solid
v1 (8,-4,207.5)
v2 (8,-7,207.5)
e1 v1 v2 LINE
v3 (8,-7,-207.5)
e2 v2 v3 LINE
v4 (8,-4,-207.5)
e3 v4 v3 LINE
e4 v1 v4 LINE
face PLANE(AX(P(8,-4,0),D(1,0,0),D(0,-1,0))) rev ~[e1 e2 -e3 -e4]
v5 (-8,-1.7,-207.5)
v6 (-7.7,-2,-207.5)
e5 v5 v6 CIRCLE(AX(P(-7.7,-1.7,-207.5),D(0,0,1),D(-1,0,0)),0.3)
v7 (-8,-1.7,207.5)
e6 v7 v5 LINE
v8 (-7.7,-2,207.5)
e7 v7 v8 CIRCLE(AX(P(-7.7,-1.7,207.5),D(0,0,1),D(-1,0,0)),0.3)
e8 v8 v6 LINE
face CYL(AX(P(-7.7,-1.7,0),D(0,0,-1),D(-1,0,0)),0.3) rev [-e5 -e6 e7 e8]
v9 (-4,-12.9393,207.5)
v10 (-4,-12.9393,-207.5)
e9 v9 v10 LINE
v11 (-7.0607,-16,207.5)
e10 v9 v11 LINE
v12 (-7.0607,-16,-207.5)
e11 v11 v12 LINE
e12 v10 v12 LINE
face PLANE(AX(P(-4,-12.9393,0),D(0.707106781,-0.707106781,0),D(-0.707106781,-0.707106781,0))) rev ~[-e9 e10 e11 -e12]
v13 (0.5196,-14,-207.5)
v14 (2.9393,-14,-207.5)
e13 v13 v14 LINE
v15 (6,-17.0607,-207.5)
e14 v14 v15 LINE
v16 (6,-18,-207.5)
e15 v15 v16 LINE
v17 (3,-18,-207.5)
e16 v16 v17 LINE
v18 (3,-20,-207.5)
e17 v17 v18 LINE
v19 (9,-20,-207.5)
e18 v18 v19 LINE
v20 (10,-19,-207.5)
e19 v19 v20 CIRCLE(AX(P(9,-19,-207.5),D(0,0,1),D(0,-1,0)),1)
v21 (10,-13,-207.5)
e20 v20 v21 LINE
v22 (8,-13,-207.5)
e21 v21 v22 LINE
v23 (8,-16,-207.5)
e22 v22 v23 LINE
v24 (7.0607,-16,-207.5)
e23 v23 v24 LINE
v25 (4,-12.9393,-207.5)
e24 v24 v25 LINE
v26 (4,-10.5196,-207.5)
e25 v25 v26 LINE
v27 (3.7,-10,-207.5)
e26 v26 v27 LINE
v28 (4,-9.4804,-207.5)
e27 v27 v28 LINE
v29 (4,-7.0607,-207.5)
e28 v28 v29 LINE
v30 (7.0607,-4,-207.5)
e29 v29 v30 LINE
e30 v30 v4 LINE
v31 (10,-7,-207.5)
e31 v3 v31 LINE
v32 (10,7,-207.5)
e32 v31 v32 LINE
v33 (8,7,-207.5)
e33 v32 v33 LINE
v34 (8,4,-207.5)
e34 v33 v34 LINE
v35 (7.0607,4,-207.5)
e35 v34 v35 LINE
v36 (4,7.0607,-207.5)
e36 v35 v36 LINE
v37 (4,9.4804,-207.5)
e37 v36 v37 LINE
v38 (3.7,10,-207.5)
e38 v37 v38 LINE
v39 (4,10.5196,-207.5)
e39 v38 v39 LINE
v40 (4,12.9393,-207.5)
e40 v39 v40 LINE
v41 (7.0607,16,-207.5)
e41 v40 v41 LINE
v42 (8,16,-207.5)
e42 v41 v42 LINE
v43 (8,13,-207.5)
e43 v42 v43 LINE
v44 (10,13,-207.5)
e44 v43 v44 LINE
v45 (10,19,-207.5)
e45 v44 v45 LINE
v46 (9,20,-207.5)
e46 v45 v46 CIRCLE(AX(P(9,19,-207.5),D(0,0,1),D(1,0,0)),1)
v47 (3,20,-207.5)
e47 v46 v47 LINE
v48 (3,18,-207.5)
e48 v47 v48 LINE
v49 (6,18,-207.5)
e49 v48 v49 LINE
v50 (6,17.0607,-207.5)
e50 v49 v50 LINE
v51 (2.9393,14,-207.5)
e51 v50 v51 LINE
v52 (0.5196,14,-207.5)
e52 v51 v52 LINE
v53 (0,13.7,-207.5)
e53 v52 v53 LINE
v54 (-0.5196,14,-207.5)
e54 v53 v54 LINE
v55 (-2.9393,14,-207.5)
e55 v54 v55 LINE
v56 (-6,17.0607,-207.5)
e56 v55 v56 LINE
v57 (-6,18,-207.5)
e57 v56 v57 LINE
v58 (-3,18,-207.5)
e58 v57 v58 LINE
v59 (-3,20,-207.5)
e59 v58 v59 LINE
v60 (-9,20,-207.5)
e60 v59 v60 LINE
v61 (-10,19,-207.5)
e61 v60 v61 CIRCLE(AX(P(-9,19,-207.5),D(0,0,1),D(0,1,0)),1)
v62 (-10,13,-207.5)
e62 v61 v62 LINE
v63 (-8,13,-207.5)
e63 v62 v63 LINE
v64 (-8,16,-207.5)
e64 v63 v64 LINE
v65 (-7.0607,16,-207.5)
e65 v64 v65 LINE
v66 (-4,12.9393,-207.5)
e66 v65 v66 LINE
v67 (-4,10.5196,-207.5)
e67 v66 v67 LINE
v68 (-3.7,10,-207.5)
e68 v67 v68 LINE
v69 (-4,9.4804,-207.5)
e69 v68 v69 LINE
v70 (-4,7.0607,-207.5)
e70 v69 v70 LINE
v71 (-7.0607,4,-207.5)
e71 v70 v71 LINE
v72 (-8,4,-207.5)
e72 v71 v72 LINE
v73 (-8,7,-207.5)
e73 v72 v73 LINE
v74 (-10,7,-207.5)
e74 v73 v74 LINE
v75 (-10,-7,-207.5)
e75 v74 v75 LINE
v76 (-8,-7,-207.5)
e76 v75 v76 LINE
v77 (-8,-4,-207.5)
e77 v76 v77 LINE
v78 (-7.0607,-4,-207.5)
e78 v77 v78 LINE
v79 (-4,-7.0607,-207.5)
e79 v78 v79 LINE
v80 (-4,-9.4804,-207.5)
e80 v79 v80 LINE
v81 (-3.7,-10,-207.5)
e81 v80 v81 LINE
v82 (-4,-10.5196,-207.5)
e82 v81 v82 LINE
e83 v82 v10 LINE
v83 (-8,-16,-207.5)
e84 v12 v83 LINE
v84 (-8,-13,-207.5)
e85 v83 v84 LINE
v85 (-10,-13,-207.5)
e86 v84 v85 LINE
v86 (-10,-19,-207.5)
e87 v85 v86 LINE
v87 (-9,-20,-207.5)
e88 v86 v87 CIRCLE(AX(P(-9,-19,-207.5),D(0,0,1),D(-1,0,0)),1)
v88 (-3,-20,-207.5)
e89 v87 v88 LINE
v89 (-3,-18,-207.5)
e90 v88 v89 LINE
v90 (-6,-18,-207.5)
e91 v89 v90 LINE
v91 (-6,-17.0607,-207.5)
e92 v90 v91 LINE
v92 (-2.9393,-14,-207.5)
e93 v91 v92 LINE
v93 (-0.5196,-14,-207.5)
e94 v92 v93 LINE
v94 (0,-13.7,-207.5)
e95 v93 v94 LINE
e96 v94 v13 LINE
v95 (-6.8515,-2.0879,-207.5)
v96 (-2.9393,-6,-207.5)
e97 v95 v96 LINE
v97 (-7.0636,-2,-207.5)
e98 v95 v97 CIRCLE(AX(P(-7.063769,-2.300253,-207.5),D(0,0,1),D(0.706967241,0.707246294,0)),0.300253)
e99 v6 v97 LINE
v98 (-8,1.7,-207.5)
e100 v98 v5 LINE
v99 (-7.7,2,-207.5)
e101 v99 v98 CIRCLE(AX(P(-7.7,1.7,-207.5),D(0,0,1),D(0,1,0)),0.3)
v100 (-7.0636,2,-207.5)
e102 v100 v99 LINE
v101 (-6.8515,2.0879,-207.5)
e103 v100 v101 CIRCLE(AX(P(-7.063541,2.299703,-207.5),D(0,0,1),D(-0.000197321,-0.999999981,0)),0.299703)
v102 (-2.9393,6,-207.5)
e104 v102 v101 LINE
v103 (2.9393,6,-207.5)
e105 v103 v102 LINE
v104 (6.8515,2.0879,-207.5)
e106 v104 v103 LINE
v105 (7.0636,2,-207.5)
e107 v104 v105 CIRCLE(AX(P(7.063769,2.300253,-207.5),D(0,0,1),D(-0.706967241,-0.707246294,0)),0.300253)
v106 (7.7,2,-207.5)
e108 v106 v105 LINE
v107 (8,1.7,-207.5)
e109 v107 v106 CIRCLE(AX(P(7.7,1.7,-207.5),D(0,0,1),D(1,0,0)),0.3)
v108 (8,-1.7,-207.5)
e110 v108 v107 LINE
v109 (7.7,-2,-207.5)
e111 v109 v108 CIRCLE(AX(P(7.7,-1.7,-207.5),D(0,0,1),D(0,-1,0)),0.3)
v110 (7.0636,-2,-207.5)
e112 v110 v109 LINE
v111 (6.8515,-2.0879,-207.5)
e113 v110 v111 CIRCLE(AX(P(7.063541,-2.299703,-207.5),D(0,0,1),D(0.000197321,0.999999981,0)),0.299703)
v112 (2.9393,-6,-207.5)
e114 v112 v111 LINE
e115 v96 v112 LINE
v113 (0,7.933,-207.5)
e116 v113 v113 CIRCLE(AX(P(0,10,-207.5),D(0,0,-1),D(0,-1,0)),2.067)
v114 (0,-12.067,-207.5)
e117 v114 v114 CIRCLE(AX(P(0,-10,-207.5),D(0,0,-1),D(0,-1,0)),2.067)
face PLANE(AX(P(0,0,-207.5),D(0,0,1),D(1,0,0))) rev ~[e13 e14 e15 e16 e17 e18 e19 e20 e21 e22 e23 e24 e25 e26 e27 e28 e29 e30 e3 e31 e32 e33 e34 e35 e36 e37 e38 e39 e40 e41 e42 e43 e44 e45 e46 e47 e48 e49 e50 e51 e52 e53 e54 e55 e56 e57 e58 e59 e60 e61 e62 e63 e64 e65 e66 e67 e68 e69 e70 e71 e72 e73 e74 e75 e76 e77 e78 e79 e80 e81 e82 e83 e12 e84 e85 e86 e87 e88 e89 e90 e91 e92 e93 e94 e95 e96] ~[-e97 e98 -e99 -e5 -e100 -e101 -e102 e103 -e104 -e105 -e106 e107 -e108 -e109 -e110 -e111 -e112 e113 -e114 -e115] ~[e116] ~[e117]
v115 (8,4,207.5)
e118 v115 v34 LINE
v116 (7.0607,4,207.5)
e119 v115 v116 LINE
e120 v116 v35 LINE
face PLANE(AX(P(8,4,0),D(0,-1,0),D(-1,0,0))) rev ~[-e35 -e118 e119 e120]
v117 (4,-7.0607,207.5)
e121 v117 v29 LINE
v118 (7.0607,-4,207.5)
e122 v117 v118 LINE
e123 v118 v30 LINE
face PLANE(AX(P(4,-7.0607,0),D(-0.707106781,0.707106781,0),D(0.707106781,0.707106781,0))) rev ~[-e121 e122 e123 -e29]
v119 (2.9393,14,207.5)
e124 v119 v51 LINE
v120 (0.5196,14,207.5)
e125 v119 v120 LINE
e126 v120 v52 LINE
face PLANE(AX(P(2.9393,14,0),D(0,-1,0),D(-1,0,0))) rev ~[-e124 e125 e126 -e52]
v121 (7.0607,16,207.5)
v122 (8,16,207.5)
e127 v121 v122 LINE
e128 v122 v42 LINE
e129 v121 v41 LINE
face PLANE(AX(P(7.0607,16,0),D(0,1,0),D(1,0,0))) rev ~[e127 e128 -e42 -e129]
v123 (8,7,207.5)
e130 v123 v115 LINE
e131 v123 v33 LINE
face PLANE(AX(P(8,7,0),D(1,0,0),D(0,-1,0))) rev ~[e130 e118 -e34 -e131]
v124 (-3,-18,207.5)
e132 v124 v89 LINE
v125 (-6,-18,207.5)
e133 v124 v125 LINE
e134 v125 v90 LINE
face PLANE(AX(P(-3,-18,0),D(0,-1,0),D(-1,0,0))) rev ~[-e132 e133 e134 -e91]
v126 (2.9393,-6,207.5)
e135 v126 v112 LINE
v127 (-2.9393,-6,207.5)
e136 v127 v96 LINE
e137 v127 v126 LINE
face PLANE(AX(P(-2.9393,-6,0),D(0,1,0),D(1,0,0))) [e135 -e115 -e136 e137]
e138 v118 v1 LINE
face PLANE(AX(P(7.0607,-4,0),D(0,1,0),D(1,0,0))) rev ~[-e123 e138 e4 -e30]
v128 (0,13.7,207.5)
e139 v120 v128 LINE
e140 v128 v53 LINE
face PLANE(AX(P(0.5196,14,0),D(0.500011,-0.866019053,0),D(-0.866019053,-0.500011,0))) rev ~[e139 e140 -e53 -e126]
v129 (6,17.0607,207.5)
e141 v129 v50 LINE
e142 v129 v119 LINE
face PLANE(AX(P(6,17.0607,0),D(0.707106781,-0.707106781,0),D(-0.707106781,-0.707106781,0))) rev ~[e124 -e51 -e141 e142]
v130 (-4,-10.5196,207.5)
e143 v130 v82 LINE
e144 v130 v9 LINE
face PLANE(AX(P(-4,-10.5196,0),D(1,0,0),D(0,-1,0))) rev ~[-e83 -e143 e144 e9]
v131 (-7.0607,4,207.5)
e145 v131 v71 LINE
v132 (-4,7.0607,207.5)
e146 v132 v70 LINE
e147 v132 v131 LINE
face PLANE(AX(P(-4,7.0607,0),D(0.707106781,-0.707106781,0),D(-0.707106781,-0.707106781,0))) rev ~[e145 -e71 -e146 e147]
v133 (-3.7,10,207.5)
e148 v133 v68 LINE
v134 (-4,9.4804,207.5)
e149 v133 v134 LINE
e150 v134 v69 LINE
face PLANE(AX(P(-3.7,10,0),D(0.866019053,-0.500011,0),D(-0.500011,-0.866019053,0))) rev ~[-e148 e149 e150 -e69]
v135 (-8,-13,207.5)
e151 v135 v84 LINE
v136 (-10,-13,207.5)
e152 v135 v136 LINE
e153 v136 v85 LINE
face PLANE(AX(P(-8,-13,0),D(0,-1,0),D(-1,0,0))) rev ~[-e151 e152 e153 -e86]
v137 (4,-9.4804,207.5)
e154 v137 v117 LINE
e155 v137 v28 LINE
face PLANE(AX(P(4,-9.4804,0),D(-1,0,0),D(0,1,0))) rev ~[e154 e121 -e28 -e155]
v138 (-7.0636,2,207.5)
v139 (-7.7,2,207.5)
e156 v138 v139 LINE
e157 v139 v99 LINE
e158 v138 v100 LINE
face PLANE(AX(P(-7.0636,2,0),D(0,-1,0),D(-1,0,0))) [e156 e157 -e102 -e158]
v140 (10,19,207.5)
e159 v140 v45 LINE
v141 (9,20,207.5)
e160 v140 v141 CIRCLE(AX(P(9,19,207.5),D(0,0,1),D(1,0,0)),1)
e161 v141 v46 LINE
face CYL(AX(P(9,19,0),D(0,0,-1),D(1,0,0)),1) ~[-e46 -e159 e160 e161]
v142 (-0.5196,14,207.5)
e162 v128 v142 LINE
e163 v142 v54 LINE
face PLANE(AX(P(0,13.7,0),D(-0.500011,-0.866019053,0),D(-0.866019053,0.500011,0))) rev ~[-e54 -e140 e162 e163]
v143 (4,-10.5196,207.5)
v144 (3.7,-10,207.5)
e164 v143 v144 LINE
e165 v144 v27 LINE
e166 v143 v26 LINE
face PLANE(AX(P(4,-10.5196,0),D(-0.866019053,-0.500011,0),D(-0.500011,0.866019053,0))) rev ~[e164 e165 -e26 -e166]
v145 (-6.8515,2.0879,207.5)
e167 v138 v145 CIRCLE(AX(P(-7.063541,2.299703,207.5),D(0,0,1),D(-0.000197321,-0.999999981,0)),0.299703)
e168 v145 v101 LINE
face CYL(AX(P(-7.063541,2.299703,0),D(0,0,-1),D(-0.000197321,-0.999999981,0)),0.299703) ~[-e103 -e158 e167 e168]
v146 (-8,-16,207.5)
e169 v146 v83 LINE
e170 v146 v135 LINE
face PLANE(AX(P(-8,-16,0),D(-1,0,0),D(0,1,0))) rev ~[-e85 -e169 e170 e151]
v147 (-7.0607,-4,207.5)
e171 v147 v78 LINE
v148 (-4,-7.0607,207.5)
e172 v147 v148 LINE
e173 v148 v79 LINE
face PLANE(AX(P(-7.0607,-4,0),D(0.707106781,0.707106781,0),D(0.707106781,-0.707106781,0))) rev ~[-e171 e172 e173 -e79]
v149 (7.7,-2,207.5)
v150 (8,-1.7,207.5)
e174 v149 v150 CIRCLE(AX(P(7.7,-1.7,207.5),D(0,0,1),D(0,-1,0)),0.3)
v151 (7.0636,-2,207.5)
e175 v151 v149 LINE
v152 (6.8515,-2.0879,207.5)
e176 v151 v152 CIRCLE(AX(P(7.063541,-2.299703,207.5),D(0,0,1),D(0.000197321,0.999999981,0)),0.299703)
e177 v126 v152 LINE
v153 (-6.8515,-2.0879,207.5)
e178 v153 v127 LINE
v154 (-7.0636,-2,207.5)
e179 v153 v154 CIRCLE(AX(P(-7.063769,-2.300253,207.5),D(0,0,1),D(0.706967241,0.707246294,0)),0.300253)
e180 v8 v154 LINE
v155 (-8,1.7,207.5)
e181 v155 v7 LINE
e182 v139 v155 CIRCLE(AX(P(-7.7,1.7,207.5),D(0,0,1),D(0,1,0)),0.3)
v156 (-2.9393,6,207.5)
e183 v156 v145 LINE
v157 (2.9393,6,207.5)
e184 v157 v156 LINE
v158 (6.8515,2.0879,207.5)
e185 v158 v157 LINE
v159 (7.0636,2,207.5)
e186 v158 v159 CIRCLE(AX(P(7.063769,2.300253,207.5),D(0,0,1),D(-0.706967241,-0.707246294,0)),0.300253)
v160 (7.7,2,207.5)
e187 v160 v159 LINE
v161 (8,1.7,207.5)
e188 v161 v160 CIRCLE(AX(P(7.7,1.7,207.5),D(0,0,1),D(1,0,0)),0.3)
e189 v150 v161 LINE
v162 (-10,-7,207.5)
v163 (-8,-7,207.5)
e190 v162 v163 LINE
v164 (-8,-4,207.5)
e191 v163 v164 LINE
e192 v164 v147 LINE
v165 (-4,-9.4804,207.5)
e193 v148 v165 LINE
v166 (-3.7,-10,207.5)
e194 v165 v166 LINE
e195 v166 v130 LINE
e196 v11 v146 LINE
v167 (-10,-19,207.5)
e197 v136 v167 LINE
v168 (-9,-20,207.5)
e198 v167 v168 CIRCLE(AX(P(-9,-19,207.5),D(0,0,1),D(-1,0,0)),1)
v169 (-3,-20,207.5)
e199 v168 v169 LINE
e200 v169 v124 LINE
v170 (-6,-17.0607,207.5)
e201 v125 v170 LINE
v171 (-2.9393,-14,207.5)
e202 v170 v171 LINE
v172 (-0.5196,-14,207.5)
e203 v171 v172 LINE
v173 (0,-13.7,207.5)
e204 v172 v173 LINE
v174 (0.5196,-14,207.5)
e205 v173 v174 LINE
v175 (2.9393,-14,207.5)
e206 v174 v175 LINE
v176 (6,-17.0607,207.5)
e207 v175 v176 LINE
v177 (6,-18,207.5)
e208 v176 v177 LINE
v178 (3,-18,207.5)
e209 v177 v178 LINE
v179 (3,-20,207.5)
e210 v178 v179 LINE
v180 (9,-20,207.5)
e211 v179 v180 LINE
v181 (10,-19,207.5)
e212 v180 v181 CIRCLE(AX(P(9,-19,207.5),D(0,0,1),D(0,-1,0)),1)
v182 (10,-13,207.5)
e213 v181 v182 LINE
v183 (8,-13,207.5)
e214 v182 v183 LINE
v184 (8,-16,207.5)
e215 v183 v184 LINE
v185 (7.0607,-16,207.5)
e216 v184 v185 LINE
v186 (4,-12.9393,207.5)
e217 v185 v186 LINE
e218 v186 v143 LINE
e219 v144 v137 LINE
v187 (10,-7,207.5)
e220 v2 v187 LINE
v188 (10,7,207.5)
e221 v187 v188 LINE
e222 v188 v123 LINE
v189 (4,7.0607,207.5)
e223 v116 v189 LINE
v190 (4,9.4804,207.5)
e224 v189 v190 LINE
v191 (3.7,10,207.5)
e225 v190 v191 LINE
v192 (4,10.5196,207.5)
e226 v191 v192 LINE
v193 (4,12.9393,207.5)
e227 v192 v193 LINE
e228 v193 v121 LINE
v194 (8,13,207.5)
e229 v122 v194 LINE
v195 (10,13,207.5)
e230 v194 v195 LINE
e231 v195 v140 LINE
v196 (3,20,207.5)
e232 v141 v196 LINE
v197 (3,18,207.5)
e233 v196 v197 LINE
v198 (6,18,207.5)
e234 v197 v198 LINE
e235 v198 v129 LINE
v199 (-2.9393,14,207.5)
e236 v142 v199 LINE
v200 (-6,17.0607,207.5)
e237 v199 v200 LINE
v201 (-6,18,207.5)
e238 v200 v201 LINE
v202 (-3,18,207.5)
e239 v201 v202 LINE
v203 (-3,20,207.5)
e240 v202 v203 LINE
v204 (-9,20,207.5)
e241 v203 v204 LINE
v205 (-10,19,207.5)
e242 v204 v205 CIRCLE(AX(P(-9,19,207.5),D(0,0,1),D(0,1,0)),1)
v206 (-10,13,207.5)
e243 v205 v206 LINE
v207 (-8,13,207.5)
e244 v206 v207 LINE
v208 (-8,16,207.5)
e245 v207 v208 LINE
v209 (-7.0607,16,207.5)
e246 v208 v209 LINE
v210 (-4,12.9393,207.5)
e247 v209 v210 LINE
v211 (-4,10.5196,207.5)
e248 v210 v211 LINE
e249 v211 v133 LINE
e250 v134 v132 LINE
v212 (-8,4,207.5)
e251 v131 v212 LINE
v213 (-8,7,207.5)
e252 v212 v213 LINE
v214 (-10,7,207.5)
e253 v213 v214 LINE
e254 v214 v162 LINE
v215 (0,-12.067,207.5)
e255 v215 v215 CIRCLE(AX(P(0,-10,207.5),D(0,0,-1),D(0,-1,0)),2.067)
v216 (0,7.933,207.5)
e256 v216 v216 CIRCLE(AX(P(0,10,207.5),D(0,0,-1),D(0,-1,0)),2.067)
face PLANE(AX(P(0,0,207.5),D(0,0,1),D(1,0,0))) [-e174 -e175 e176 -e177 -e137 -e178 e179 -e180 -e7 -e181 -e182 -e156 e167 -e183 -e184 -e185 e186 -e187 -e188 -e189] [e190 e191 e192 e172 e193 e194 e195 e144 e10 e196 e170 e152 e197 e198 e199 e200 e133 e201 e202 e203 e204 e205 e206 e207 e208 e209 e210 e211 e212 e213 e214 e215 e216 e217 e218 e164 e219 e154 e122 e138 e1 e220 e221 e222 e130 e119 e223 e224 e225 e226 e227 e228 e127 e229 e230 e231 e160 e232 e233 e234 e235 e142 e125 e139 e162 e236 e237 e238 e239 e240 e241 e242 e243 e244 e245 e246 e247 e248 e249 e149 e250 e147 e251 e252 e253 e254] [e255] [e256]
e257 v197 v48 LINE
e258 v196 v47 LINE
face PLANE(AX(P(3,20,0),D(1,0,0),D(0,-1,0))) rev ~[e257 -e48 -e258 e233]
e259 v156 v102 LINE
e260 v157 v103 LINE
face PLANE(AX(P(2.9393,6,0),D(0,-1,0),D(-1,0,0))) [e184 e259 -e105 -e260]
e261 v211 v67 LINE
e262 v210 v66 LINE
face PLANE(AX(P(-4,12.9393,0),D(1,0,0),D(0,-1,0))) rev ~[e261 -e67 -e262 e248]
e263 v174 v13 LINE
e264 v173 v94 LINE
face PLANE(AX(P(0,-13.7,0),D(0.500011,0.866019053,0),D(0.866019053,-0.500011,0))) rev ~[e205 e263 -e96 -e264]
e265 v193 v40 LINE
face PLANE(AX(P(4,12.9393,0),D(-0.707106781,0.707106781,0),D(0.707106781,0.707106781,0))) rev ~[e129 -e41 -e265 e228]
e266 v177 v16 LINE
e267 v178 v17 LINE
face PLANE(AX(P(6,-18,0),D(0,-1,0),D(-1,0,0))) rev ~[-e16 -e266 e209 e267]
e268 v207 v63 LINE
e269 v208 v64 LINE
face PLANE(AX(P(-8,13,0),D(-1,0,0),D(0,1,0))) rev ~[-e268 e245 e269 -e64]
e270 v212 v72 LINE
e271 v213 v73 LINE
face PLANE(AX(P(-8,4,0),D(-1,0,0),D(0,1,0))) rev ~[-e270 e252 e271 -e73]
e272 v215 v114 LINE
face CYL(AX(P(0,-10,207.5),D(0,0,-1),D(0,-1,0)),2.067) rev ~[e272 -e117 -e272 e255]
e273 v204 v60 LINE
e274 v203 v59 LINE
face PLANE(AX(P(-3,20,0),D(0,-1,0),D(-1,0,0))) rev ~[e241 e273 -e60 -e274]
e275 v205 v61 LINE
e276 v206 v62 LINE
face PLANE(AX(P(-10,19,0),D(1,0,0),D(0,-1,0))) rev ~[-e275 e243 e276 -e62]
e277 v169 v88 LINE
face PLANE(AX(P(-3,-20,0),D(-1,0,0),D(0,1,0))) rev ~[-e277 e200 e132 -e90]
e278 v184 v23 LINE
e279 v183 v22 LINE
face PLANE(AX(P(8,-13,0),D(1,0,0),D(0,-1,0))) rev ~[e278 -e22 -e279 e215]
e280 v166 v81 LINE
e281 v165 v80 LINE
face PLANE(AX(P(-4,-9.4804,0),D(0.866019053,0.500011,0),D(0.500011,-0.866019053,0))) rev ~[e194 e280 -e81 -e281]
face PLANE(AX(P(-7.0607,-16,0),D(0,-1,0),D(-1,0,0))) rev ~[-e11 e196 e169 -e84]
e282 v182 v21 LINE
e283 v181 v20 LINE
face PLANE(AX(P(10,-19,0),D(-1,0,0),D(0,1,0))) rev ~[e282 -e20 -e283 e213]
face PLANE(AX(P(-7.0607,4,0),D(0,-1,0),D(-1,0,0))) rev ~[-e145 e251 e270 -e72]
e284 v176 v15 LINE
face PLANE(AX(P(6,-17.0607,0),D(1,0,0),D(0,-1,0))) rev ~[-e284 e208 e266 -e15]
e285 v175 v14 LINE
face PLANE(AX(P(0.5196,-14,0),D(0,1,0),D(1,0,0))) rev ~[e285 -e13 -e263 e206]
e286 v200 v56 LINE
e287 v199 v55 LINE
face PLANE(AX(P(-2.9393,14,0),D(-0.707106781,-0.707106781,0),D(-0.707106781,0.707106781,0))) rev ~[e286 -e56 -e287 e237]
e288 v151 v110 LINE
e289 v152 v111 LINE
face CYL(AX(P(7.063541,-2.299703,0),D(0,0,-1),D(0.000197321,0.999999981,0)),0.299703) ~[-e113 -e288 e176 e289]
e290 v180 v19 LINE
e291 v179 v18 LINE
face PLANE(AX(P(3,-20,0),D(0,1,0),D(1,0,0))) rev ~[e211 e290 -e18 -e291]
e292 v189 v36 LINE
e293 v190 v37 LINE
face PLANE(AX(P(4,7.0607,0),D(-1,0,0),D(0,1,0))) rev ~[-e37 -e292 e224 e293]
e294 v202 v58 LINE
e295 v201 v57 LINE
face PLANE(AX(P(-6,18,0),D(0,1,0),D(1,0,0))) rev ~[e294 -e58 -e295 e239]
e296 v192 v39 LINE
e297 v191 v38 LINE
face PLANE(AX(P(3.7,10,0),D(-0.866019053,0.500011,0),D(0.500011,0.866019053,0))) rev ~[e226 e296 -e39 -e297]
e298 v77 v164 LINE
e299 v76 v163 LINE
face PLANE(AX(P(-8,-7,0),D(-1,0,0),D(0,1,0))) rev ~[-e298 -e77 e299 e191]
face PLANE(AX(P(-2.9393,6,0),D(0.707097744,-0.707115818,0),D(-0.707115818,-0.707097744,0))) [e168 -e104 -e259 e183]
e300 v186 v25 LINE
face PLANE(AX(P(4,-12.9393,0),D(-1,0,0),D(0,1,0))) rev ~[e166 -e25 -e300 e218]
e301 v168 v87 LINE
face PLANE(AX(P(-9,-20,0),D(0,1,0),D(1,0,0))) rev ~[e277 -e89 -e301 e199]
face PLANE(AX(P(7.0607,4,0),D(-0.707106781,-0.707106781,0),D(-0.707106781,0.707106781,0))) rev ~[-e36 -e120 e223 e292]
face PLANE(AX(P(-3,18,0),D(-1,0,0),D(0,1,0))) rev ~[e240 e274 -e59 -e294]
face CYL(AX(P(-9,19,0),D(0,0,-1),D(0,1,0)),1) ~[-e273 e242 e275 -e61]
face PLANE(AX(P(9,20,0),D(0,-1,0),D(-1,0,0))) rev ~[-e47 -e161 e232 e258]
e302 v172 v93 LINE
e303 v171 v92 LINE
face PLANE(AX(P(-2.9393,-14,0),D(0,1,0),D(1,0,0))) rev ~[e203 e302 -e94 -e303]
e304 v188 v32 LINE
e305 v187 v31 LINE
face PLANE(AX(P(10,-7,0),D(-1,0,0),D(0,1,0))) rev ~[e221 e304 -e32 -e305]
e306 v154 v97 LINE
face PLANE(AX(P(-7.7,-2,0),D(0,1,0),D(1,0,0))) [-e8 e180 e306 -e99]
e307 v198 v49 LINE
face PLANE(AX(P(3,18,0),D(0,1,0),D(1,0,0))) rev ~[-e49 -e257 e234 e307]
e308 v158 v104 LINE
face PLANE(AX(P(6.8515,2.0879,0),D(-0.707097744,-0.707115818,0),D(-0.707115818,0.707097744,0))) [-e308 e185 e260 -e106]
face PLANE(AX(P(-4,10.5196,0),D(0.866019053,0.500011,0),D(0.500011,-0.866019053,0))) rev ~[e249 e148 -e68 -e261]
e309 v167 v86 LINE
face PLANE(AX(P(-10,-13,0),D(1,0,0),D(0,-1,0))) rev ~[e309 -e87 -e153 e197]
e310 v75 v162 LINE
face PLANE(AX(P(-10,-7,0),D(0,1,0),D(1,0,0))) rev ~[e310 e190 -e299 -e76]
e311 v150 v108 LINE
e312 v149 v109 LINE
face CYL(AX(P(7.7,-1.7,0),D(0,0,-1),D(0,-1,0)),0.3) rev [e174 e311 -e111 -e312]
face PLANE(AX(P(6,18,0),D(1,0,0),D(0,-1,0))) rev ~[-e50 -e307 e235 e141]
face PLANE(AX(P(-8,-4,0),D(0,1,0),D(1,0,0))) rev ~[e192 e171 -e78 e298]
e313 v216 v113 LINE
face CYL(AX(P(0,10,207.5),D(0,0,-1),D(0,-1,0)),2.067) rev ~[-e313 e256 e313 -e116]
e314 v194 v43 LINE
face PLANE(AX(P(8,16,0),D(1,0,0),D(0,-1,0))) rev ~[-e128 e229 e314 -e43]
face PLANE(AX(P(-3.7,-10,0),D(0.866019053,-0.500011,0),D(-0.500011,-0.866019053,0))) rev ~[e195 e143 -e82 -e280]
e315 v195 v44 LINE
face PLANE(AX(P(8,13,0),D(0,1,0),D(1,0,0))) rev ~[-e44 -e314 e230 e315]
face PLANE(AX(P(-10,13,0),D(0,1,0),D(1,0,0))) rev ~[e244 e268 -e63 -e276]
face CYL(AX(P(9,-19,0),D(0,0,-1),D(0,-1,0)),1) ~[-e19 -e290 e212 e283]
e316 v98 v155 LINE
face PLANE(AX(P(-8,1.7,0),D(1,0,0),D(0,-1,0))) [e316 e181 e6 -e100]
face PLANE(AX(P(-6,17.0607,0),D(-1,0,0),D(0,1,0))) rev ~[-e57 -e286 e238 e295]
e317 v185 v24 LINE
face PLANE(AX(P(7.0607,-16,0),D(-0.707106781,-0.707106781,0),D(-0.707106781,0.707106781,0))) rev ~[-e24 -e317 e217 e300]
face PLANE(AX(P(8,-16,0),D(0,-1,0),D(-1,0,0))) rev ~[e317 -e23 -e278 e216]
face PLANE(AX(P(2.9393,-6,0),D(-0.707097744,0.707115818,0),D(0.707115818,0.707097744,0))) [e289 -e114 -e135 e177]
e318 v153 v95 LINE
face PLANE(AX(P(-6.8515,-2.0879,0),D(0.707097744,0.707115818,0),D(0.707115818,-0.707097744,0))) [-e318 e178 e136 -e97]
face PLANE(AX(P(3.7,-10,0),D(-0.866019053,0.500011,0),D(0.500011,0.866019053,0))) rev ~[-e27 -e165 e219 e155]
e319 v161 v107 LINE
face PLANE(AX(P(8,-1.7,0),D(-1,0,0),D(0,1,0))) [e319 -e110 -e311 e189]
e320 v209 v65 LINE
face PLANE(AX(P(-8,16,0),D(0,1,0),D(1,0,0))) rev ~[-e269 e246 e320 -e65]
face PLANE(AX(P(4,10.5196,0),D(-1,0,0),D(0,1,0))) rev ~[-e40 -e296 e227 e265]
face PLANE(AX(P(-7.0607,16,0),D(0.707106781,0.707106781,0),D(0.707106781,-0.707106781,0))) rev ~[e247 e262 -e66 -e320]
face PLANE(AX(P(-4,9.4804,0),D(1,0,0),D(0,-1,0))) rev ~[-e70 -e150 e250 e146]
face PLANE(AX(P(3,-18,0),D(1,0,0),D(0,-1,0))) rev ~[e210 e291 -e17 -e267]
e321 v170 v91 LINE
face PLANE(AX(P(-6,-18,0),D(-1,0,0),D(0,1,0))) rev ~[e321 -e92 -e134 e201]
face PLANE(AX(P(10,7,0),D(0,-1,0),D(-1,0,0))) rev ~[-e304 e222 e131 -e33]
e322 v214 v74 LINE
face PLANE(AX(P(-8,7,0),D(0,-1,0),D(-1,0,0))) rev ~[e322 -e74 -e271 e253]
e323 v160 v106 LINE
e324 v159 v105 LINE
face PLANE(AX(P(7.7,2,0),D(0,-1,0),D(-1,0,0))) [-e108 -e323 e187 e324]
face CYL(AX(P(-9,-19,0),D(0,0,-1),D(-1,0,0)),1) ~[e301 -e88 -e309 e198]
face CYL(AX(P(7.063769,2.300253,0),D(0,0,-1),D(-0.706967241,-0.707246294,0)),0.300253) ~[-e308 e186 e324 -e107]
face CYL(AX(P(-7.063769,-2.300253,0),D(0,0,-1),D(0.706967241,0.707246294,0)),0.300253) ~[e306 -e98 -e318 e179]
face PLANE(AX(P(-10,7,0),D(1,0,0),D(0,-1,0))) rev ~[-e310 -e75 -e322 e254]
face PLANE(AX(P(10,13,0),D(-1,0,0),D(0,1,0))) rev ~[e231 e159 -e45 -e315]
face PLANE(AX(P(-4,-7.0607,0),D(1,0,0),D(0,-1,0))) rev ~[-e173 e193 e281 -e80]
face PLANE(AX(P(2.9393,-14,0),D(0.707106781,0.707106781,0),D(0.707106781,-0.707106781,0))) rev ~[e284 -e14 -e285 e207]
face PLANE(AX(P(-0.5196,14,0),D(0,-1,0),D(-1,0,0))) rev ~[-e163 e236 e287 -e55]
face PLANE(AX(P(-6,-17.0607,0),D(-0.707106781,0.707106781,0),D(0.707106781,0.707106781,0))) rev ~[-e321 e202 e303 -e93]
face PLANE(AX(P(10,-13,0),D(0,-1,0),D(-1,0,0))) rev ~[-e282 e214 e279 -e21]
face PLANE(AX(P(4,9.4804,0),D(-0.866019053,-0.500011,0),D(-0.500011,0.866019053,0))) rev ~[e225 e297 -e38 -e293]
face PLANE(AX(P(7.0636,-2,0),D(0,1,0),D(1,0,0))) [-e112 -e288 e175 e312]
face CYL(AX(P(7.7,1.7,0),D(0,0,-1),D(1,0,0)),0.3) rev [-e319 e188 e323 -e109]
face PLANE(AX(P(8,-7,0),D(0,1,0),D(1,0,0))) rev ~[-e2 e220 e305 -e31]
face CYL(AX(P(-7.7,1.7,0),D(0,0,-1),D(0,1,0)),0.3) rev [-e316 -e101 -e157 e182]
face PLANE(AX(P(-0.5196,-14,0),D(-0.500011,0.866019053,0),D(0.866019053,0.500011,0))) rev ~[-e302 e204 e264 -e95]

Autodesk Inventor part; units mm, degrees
sketch "Sketch_1" plane through (0, 0, 0) normal (0, 0, 1) x (1, 0, 0)
  line L0 (-10, -7) -> (-8, -7)
  line L1 (-8, -7) -> (-8, -4)
  line L2 (-8, -4) -> (-7.0607, -4)
  line L3 (-7.0607, -4) -> (-4, -7.0607)
  line L4 (-4, -7.0607) -> (-4, -9.4804)
  line L5 (-4, -9.4804) -> (-3.7, -10)
  line L6 (-3.7, -10) -> (-4, -10.5196)
  line L7 (-4, -10.5196) -> (-4, -12.9393)
  line L8 (-4, -12.9393) -> (-7.0607, -16)
  line L9 (-7.0607, -16) -> (-8, -16)
  line L10 (-8, -16) -> (-8, -13)
  line L11 (-8, -13) -> (-10, -13)
  line L12 (-10, -13) -> (-10, -19)
  arc A0 (-10, -19) -> (-9, -20) centre (-9, -19) ccw
  line L13 (-9, -20) -> (-3, -20)
  line L14 (-3, -20) -> (-3, -18)
  line L15 (-3, -18) -> (-6, -18)
  line L16 (-6, -18) -> (-6, -17.0607)
  line L17 (-6, -17.0607) -> (-2.9393, -14)
  line L18 (-2.9393, -14) -> (-0.5196, -14)
  line L19 (-0.5196, -14) -> (0, -13.7)
  line L20 (0, -13.7) -> (0.5196, -14)
  line L21 (0.5196, -14) -> (2.9393, -14)
  line L22 (2.9393, -14) -> (6, -17.0607)
  line L23 (6, -17.0607) -> (6, -18)
  line L24 (6, -18) -> (3, -18)
  line L25 (3, -18) -> (3, -20)
  line L26 (3, -20) -> (9, -20)
  arc A1 (9, -20) -> (10, -19) centre (9, -19) ccw
  line L27 (10, -19) -> (10, -13)
  line L28 (10, -13) -> (8, -13)
  line L29 (8, -13) -> (8, -16)
  line L30 (8, -16) -> (7.0607, -16)
  line L31 (7.0607, -16) -> (4, -12.9393)
  line L32 (4, -12.9393) -> (4, -10.5196)
  line L33 (4, -10.5196) -> (3.7, -10)
  line L34 (3.7, -10) -> (4, -9.4804)
  line L35 (4, -9.4804) -> (4, -7.0607)
  line L36 (4, -7.0607) -> (7.0607, -4)
  line L37 (7.0607, -4) -> (8, -4)
  line L38 (8, -4) -> (8, -7)
  line L39 (8, -7) -> (10, -7)
  line L40 (10, -7) -> (10, 7)
  line L41 (10, 7) -> (8, 7)
  line L42 (8, 7) -> (8, 4)
  line L43 (8, 4) -> (7.0607, 4)
  line L44 (7.0607, 4) -> (4, 7.0607)
  line L45 (4, 7.0607) -> (4, 9.4804)
  line L46 (4, 9.4804) -> (3.7, 10)
  line L47 (3.7, 10) -> (4, 10.5196)
  line L48 (4, 10.5196) -> (4, 12.9393)
  line L49 (4, 12.9393) -> (7.0607, 16)
  line L50 (7.0607, 16) -> (8, 16)
  line L51 (8, 16) -> (8, 13)
  line L52 (8, 13) -> (10, 13)
  line L53 (10, 13) -> (10, 19)
  arc A2 (10, 19) -> (9, 20) centre (9, 19) ccw
  line L54 (9, 20) -> (3, 20)
  line L55 (3, 20) -> (3, 18)
  line L56 (3, 18) -> (6, 18)
  line L57 (6, 18) -> (6, 17.0607)
  line L58 (6, 17.0607) -> (2.9393, 14)
  line L59 (2.9393, 14) -> (0.5196, 14)
  line L60 (0.5196, 14) -> (0, 13.7)
  line L61 (0, 13.7) -> (-0.5196, 14)
  line L62 (-0.5196, 14) -> (-2.9393, 14)
  line L63 (-2.9393, 14) -> (-6, 17.0607)
  line L64 (-6, 17.0607) -> (-6, 18)
  line L65 (-6, 18) -> (-3, 18)
  line L66 (-3, 18) -> (-3, 20)
  line L67 (-3, 20) -> (-9, 20)
  arc A3 (-9, 20) -> (-10, 19) centre (-9, 19) ccw
  line L68 (-10, 19) -> (-10, 13)
  line L69 (-10, 13) -> (-8, 13)
  line L70 (-8, 13) -> (-8, 16)
  line L71 (-8, 16) -> (-7.0607, 16)
  line L72 (-7.0607, 16) -> (-4, 12.9393)
  line L73 (-4, 12.9393) -> (-4, 10.5196)
  line L74 (-4, 10.5196) -> (-3.7, 10)
  line L75 (-3.7, 10) -> (-4, 9.4804)
  line L76 (-4, 9.4804) -> (-4, 7.0607)
  line L77 (-4, 7.0607) -> (-7.0607, 4)
  line L78 (-7.0607, 4) -> (-8, 4)
  line L79 (-8, 4) -> (-8, 7)
  line L80 (-8, 7) -> (-10, 7)
  line L81 (-10, 7) -> (-10, -7)
  line L82 (-8, 1.7) -> (-8, -1.7)
  arc A4 (-8, -1.7) -> (-7.7, -2) centre (-7.7, -1.7) ccw
  line L83 (-7.7, -2) -> (-7.0636, -2)
  arc A5 (-6.8515, -2.0879) -> (-7.0636, -2) centre (-7.0636, -2.3) ccw
  line L84 (-6.8515, -2.0879) -> (-2.9393, -6)
  line L85 (-2.9393, -6) -> (2.9393, -6)
  line L86 (2.9393, -6) -> (6.8515, -2.0879)
  arc A6 (7.0636, -2) -> (6.8515, -2.0879) centre (7.0636, -2.3) ccw
  line L87 (7.0636, -2) -> (7.7, -2)
  arc A7 (7.7, -2) -> (8, -1.7) centre (7.7, -1.7) ccw
  line L88 (8, -1.7) -> (8, 1.7)
  arc A8 (8, 1.7) -> (7.7, 2) centre (7.7, 1.7) ccw
  line L89 (7.7, 2) -> (7.0636, 2)
  arc A9 (6.8515, 2.0879) -> (7.0636, 2) centre (7.0636, 2.3) ccw
  line L90 (6.8515, 2.0879) -> (2.9393, 6)
  line L91 (2.9393, 6) -> (-2.9393, 6)
  line L92 (-2.9393, 6) -> (-6.8515, 2.0879)
  arc A10 (-7.0636, 2) -> (-6.8515, 2.0879) centre (-7.0636, 2.3) ccw
  line L93 (-7.0636, 2) -> (-7.7, 2)
  arc A11 (-7.7, 2) -> (-8, 1.7) centre (-7.7, 1.7) ccw
extrude "Extrusion1" add sketch "Sketch_1" along normal mid plane 415
sketch "Sketch2" plane through (0, 0, 207.5) normal (0, 0, 1) x (-1, 0, 0)
  point P0 (0, 10)
hole "Hole1" at (0, -10, 207.5) direction (0, 0, -1) diameter 4.134 end through all thread size "M5x0.8" class "6H" standard "ANSI Metric M Profile"
pattern_linear "Rectangular Pattern1" count 2 spacing 20 along (0, 1, 0) of "Hole1"
ref_plane "C1_XY" through (0, 0, 0) normal (0, 0, 1) x (1, 0, 0)
ref_plane "C1_YZ" through (0, 0, 0) normal (1, 0, 0) x (0, 1, 0)
ref_plane "C1_ZX" through (0, 0, 0) normal (0, 1, 0) x (0, 0, 1)
mirror "Mirror1" about plane through (0, 0, 0) normal (0, 0, 1) of "Hole1", "Rectangular Pattern1"
properties part number "2040 Top Right Reinforcement" material "Aluminum 6061"
